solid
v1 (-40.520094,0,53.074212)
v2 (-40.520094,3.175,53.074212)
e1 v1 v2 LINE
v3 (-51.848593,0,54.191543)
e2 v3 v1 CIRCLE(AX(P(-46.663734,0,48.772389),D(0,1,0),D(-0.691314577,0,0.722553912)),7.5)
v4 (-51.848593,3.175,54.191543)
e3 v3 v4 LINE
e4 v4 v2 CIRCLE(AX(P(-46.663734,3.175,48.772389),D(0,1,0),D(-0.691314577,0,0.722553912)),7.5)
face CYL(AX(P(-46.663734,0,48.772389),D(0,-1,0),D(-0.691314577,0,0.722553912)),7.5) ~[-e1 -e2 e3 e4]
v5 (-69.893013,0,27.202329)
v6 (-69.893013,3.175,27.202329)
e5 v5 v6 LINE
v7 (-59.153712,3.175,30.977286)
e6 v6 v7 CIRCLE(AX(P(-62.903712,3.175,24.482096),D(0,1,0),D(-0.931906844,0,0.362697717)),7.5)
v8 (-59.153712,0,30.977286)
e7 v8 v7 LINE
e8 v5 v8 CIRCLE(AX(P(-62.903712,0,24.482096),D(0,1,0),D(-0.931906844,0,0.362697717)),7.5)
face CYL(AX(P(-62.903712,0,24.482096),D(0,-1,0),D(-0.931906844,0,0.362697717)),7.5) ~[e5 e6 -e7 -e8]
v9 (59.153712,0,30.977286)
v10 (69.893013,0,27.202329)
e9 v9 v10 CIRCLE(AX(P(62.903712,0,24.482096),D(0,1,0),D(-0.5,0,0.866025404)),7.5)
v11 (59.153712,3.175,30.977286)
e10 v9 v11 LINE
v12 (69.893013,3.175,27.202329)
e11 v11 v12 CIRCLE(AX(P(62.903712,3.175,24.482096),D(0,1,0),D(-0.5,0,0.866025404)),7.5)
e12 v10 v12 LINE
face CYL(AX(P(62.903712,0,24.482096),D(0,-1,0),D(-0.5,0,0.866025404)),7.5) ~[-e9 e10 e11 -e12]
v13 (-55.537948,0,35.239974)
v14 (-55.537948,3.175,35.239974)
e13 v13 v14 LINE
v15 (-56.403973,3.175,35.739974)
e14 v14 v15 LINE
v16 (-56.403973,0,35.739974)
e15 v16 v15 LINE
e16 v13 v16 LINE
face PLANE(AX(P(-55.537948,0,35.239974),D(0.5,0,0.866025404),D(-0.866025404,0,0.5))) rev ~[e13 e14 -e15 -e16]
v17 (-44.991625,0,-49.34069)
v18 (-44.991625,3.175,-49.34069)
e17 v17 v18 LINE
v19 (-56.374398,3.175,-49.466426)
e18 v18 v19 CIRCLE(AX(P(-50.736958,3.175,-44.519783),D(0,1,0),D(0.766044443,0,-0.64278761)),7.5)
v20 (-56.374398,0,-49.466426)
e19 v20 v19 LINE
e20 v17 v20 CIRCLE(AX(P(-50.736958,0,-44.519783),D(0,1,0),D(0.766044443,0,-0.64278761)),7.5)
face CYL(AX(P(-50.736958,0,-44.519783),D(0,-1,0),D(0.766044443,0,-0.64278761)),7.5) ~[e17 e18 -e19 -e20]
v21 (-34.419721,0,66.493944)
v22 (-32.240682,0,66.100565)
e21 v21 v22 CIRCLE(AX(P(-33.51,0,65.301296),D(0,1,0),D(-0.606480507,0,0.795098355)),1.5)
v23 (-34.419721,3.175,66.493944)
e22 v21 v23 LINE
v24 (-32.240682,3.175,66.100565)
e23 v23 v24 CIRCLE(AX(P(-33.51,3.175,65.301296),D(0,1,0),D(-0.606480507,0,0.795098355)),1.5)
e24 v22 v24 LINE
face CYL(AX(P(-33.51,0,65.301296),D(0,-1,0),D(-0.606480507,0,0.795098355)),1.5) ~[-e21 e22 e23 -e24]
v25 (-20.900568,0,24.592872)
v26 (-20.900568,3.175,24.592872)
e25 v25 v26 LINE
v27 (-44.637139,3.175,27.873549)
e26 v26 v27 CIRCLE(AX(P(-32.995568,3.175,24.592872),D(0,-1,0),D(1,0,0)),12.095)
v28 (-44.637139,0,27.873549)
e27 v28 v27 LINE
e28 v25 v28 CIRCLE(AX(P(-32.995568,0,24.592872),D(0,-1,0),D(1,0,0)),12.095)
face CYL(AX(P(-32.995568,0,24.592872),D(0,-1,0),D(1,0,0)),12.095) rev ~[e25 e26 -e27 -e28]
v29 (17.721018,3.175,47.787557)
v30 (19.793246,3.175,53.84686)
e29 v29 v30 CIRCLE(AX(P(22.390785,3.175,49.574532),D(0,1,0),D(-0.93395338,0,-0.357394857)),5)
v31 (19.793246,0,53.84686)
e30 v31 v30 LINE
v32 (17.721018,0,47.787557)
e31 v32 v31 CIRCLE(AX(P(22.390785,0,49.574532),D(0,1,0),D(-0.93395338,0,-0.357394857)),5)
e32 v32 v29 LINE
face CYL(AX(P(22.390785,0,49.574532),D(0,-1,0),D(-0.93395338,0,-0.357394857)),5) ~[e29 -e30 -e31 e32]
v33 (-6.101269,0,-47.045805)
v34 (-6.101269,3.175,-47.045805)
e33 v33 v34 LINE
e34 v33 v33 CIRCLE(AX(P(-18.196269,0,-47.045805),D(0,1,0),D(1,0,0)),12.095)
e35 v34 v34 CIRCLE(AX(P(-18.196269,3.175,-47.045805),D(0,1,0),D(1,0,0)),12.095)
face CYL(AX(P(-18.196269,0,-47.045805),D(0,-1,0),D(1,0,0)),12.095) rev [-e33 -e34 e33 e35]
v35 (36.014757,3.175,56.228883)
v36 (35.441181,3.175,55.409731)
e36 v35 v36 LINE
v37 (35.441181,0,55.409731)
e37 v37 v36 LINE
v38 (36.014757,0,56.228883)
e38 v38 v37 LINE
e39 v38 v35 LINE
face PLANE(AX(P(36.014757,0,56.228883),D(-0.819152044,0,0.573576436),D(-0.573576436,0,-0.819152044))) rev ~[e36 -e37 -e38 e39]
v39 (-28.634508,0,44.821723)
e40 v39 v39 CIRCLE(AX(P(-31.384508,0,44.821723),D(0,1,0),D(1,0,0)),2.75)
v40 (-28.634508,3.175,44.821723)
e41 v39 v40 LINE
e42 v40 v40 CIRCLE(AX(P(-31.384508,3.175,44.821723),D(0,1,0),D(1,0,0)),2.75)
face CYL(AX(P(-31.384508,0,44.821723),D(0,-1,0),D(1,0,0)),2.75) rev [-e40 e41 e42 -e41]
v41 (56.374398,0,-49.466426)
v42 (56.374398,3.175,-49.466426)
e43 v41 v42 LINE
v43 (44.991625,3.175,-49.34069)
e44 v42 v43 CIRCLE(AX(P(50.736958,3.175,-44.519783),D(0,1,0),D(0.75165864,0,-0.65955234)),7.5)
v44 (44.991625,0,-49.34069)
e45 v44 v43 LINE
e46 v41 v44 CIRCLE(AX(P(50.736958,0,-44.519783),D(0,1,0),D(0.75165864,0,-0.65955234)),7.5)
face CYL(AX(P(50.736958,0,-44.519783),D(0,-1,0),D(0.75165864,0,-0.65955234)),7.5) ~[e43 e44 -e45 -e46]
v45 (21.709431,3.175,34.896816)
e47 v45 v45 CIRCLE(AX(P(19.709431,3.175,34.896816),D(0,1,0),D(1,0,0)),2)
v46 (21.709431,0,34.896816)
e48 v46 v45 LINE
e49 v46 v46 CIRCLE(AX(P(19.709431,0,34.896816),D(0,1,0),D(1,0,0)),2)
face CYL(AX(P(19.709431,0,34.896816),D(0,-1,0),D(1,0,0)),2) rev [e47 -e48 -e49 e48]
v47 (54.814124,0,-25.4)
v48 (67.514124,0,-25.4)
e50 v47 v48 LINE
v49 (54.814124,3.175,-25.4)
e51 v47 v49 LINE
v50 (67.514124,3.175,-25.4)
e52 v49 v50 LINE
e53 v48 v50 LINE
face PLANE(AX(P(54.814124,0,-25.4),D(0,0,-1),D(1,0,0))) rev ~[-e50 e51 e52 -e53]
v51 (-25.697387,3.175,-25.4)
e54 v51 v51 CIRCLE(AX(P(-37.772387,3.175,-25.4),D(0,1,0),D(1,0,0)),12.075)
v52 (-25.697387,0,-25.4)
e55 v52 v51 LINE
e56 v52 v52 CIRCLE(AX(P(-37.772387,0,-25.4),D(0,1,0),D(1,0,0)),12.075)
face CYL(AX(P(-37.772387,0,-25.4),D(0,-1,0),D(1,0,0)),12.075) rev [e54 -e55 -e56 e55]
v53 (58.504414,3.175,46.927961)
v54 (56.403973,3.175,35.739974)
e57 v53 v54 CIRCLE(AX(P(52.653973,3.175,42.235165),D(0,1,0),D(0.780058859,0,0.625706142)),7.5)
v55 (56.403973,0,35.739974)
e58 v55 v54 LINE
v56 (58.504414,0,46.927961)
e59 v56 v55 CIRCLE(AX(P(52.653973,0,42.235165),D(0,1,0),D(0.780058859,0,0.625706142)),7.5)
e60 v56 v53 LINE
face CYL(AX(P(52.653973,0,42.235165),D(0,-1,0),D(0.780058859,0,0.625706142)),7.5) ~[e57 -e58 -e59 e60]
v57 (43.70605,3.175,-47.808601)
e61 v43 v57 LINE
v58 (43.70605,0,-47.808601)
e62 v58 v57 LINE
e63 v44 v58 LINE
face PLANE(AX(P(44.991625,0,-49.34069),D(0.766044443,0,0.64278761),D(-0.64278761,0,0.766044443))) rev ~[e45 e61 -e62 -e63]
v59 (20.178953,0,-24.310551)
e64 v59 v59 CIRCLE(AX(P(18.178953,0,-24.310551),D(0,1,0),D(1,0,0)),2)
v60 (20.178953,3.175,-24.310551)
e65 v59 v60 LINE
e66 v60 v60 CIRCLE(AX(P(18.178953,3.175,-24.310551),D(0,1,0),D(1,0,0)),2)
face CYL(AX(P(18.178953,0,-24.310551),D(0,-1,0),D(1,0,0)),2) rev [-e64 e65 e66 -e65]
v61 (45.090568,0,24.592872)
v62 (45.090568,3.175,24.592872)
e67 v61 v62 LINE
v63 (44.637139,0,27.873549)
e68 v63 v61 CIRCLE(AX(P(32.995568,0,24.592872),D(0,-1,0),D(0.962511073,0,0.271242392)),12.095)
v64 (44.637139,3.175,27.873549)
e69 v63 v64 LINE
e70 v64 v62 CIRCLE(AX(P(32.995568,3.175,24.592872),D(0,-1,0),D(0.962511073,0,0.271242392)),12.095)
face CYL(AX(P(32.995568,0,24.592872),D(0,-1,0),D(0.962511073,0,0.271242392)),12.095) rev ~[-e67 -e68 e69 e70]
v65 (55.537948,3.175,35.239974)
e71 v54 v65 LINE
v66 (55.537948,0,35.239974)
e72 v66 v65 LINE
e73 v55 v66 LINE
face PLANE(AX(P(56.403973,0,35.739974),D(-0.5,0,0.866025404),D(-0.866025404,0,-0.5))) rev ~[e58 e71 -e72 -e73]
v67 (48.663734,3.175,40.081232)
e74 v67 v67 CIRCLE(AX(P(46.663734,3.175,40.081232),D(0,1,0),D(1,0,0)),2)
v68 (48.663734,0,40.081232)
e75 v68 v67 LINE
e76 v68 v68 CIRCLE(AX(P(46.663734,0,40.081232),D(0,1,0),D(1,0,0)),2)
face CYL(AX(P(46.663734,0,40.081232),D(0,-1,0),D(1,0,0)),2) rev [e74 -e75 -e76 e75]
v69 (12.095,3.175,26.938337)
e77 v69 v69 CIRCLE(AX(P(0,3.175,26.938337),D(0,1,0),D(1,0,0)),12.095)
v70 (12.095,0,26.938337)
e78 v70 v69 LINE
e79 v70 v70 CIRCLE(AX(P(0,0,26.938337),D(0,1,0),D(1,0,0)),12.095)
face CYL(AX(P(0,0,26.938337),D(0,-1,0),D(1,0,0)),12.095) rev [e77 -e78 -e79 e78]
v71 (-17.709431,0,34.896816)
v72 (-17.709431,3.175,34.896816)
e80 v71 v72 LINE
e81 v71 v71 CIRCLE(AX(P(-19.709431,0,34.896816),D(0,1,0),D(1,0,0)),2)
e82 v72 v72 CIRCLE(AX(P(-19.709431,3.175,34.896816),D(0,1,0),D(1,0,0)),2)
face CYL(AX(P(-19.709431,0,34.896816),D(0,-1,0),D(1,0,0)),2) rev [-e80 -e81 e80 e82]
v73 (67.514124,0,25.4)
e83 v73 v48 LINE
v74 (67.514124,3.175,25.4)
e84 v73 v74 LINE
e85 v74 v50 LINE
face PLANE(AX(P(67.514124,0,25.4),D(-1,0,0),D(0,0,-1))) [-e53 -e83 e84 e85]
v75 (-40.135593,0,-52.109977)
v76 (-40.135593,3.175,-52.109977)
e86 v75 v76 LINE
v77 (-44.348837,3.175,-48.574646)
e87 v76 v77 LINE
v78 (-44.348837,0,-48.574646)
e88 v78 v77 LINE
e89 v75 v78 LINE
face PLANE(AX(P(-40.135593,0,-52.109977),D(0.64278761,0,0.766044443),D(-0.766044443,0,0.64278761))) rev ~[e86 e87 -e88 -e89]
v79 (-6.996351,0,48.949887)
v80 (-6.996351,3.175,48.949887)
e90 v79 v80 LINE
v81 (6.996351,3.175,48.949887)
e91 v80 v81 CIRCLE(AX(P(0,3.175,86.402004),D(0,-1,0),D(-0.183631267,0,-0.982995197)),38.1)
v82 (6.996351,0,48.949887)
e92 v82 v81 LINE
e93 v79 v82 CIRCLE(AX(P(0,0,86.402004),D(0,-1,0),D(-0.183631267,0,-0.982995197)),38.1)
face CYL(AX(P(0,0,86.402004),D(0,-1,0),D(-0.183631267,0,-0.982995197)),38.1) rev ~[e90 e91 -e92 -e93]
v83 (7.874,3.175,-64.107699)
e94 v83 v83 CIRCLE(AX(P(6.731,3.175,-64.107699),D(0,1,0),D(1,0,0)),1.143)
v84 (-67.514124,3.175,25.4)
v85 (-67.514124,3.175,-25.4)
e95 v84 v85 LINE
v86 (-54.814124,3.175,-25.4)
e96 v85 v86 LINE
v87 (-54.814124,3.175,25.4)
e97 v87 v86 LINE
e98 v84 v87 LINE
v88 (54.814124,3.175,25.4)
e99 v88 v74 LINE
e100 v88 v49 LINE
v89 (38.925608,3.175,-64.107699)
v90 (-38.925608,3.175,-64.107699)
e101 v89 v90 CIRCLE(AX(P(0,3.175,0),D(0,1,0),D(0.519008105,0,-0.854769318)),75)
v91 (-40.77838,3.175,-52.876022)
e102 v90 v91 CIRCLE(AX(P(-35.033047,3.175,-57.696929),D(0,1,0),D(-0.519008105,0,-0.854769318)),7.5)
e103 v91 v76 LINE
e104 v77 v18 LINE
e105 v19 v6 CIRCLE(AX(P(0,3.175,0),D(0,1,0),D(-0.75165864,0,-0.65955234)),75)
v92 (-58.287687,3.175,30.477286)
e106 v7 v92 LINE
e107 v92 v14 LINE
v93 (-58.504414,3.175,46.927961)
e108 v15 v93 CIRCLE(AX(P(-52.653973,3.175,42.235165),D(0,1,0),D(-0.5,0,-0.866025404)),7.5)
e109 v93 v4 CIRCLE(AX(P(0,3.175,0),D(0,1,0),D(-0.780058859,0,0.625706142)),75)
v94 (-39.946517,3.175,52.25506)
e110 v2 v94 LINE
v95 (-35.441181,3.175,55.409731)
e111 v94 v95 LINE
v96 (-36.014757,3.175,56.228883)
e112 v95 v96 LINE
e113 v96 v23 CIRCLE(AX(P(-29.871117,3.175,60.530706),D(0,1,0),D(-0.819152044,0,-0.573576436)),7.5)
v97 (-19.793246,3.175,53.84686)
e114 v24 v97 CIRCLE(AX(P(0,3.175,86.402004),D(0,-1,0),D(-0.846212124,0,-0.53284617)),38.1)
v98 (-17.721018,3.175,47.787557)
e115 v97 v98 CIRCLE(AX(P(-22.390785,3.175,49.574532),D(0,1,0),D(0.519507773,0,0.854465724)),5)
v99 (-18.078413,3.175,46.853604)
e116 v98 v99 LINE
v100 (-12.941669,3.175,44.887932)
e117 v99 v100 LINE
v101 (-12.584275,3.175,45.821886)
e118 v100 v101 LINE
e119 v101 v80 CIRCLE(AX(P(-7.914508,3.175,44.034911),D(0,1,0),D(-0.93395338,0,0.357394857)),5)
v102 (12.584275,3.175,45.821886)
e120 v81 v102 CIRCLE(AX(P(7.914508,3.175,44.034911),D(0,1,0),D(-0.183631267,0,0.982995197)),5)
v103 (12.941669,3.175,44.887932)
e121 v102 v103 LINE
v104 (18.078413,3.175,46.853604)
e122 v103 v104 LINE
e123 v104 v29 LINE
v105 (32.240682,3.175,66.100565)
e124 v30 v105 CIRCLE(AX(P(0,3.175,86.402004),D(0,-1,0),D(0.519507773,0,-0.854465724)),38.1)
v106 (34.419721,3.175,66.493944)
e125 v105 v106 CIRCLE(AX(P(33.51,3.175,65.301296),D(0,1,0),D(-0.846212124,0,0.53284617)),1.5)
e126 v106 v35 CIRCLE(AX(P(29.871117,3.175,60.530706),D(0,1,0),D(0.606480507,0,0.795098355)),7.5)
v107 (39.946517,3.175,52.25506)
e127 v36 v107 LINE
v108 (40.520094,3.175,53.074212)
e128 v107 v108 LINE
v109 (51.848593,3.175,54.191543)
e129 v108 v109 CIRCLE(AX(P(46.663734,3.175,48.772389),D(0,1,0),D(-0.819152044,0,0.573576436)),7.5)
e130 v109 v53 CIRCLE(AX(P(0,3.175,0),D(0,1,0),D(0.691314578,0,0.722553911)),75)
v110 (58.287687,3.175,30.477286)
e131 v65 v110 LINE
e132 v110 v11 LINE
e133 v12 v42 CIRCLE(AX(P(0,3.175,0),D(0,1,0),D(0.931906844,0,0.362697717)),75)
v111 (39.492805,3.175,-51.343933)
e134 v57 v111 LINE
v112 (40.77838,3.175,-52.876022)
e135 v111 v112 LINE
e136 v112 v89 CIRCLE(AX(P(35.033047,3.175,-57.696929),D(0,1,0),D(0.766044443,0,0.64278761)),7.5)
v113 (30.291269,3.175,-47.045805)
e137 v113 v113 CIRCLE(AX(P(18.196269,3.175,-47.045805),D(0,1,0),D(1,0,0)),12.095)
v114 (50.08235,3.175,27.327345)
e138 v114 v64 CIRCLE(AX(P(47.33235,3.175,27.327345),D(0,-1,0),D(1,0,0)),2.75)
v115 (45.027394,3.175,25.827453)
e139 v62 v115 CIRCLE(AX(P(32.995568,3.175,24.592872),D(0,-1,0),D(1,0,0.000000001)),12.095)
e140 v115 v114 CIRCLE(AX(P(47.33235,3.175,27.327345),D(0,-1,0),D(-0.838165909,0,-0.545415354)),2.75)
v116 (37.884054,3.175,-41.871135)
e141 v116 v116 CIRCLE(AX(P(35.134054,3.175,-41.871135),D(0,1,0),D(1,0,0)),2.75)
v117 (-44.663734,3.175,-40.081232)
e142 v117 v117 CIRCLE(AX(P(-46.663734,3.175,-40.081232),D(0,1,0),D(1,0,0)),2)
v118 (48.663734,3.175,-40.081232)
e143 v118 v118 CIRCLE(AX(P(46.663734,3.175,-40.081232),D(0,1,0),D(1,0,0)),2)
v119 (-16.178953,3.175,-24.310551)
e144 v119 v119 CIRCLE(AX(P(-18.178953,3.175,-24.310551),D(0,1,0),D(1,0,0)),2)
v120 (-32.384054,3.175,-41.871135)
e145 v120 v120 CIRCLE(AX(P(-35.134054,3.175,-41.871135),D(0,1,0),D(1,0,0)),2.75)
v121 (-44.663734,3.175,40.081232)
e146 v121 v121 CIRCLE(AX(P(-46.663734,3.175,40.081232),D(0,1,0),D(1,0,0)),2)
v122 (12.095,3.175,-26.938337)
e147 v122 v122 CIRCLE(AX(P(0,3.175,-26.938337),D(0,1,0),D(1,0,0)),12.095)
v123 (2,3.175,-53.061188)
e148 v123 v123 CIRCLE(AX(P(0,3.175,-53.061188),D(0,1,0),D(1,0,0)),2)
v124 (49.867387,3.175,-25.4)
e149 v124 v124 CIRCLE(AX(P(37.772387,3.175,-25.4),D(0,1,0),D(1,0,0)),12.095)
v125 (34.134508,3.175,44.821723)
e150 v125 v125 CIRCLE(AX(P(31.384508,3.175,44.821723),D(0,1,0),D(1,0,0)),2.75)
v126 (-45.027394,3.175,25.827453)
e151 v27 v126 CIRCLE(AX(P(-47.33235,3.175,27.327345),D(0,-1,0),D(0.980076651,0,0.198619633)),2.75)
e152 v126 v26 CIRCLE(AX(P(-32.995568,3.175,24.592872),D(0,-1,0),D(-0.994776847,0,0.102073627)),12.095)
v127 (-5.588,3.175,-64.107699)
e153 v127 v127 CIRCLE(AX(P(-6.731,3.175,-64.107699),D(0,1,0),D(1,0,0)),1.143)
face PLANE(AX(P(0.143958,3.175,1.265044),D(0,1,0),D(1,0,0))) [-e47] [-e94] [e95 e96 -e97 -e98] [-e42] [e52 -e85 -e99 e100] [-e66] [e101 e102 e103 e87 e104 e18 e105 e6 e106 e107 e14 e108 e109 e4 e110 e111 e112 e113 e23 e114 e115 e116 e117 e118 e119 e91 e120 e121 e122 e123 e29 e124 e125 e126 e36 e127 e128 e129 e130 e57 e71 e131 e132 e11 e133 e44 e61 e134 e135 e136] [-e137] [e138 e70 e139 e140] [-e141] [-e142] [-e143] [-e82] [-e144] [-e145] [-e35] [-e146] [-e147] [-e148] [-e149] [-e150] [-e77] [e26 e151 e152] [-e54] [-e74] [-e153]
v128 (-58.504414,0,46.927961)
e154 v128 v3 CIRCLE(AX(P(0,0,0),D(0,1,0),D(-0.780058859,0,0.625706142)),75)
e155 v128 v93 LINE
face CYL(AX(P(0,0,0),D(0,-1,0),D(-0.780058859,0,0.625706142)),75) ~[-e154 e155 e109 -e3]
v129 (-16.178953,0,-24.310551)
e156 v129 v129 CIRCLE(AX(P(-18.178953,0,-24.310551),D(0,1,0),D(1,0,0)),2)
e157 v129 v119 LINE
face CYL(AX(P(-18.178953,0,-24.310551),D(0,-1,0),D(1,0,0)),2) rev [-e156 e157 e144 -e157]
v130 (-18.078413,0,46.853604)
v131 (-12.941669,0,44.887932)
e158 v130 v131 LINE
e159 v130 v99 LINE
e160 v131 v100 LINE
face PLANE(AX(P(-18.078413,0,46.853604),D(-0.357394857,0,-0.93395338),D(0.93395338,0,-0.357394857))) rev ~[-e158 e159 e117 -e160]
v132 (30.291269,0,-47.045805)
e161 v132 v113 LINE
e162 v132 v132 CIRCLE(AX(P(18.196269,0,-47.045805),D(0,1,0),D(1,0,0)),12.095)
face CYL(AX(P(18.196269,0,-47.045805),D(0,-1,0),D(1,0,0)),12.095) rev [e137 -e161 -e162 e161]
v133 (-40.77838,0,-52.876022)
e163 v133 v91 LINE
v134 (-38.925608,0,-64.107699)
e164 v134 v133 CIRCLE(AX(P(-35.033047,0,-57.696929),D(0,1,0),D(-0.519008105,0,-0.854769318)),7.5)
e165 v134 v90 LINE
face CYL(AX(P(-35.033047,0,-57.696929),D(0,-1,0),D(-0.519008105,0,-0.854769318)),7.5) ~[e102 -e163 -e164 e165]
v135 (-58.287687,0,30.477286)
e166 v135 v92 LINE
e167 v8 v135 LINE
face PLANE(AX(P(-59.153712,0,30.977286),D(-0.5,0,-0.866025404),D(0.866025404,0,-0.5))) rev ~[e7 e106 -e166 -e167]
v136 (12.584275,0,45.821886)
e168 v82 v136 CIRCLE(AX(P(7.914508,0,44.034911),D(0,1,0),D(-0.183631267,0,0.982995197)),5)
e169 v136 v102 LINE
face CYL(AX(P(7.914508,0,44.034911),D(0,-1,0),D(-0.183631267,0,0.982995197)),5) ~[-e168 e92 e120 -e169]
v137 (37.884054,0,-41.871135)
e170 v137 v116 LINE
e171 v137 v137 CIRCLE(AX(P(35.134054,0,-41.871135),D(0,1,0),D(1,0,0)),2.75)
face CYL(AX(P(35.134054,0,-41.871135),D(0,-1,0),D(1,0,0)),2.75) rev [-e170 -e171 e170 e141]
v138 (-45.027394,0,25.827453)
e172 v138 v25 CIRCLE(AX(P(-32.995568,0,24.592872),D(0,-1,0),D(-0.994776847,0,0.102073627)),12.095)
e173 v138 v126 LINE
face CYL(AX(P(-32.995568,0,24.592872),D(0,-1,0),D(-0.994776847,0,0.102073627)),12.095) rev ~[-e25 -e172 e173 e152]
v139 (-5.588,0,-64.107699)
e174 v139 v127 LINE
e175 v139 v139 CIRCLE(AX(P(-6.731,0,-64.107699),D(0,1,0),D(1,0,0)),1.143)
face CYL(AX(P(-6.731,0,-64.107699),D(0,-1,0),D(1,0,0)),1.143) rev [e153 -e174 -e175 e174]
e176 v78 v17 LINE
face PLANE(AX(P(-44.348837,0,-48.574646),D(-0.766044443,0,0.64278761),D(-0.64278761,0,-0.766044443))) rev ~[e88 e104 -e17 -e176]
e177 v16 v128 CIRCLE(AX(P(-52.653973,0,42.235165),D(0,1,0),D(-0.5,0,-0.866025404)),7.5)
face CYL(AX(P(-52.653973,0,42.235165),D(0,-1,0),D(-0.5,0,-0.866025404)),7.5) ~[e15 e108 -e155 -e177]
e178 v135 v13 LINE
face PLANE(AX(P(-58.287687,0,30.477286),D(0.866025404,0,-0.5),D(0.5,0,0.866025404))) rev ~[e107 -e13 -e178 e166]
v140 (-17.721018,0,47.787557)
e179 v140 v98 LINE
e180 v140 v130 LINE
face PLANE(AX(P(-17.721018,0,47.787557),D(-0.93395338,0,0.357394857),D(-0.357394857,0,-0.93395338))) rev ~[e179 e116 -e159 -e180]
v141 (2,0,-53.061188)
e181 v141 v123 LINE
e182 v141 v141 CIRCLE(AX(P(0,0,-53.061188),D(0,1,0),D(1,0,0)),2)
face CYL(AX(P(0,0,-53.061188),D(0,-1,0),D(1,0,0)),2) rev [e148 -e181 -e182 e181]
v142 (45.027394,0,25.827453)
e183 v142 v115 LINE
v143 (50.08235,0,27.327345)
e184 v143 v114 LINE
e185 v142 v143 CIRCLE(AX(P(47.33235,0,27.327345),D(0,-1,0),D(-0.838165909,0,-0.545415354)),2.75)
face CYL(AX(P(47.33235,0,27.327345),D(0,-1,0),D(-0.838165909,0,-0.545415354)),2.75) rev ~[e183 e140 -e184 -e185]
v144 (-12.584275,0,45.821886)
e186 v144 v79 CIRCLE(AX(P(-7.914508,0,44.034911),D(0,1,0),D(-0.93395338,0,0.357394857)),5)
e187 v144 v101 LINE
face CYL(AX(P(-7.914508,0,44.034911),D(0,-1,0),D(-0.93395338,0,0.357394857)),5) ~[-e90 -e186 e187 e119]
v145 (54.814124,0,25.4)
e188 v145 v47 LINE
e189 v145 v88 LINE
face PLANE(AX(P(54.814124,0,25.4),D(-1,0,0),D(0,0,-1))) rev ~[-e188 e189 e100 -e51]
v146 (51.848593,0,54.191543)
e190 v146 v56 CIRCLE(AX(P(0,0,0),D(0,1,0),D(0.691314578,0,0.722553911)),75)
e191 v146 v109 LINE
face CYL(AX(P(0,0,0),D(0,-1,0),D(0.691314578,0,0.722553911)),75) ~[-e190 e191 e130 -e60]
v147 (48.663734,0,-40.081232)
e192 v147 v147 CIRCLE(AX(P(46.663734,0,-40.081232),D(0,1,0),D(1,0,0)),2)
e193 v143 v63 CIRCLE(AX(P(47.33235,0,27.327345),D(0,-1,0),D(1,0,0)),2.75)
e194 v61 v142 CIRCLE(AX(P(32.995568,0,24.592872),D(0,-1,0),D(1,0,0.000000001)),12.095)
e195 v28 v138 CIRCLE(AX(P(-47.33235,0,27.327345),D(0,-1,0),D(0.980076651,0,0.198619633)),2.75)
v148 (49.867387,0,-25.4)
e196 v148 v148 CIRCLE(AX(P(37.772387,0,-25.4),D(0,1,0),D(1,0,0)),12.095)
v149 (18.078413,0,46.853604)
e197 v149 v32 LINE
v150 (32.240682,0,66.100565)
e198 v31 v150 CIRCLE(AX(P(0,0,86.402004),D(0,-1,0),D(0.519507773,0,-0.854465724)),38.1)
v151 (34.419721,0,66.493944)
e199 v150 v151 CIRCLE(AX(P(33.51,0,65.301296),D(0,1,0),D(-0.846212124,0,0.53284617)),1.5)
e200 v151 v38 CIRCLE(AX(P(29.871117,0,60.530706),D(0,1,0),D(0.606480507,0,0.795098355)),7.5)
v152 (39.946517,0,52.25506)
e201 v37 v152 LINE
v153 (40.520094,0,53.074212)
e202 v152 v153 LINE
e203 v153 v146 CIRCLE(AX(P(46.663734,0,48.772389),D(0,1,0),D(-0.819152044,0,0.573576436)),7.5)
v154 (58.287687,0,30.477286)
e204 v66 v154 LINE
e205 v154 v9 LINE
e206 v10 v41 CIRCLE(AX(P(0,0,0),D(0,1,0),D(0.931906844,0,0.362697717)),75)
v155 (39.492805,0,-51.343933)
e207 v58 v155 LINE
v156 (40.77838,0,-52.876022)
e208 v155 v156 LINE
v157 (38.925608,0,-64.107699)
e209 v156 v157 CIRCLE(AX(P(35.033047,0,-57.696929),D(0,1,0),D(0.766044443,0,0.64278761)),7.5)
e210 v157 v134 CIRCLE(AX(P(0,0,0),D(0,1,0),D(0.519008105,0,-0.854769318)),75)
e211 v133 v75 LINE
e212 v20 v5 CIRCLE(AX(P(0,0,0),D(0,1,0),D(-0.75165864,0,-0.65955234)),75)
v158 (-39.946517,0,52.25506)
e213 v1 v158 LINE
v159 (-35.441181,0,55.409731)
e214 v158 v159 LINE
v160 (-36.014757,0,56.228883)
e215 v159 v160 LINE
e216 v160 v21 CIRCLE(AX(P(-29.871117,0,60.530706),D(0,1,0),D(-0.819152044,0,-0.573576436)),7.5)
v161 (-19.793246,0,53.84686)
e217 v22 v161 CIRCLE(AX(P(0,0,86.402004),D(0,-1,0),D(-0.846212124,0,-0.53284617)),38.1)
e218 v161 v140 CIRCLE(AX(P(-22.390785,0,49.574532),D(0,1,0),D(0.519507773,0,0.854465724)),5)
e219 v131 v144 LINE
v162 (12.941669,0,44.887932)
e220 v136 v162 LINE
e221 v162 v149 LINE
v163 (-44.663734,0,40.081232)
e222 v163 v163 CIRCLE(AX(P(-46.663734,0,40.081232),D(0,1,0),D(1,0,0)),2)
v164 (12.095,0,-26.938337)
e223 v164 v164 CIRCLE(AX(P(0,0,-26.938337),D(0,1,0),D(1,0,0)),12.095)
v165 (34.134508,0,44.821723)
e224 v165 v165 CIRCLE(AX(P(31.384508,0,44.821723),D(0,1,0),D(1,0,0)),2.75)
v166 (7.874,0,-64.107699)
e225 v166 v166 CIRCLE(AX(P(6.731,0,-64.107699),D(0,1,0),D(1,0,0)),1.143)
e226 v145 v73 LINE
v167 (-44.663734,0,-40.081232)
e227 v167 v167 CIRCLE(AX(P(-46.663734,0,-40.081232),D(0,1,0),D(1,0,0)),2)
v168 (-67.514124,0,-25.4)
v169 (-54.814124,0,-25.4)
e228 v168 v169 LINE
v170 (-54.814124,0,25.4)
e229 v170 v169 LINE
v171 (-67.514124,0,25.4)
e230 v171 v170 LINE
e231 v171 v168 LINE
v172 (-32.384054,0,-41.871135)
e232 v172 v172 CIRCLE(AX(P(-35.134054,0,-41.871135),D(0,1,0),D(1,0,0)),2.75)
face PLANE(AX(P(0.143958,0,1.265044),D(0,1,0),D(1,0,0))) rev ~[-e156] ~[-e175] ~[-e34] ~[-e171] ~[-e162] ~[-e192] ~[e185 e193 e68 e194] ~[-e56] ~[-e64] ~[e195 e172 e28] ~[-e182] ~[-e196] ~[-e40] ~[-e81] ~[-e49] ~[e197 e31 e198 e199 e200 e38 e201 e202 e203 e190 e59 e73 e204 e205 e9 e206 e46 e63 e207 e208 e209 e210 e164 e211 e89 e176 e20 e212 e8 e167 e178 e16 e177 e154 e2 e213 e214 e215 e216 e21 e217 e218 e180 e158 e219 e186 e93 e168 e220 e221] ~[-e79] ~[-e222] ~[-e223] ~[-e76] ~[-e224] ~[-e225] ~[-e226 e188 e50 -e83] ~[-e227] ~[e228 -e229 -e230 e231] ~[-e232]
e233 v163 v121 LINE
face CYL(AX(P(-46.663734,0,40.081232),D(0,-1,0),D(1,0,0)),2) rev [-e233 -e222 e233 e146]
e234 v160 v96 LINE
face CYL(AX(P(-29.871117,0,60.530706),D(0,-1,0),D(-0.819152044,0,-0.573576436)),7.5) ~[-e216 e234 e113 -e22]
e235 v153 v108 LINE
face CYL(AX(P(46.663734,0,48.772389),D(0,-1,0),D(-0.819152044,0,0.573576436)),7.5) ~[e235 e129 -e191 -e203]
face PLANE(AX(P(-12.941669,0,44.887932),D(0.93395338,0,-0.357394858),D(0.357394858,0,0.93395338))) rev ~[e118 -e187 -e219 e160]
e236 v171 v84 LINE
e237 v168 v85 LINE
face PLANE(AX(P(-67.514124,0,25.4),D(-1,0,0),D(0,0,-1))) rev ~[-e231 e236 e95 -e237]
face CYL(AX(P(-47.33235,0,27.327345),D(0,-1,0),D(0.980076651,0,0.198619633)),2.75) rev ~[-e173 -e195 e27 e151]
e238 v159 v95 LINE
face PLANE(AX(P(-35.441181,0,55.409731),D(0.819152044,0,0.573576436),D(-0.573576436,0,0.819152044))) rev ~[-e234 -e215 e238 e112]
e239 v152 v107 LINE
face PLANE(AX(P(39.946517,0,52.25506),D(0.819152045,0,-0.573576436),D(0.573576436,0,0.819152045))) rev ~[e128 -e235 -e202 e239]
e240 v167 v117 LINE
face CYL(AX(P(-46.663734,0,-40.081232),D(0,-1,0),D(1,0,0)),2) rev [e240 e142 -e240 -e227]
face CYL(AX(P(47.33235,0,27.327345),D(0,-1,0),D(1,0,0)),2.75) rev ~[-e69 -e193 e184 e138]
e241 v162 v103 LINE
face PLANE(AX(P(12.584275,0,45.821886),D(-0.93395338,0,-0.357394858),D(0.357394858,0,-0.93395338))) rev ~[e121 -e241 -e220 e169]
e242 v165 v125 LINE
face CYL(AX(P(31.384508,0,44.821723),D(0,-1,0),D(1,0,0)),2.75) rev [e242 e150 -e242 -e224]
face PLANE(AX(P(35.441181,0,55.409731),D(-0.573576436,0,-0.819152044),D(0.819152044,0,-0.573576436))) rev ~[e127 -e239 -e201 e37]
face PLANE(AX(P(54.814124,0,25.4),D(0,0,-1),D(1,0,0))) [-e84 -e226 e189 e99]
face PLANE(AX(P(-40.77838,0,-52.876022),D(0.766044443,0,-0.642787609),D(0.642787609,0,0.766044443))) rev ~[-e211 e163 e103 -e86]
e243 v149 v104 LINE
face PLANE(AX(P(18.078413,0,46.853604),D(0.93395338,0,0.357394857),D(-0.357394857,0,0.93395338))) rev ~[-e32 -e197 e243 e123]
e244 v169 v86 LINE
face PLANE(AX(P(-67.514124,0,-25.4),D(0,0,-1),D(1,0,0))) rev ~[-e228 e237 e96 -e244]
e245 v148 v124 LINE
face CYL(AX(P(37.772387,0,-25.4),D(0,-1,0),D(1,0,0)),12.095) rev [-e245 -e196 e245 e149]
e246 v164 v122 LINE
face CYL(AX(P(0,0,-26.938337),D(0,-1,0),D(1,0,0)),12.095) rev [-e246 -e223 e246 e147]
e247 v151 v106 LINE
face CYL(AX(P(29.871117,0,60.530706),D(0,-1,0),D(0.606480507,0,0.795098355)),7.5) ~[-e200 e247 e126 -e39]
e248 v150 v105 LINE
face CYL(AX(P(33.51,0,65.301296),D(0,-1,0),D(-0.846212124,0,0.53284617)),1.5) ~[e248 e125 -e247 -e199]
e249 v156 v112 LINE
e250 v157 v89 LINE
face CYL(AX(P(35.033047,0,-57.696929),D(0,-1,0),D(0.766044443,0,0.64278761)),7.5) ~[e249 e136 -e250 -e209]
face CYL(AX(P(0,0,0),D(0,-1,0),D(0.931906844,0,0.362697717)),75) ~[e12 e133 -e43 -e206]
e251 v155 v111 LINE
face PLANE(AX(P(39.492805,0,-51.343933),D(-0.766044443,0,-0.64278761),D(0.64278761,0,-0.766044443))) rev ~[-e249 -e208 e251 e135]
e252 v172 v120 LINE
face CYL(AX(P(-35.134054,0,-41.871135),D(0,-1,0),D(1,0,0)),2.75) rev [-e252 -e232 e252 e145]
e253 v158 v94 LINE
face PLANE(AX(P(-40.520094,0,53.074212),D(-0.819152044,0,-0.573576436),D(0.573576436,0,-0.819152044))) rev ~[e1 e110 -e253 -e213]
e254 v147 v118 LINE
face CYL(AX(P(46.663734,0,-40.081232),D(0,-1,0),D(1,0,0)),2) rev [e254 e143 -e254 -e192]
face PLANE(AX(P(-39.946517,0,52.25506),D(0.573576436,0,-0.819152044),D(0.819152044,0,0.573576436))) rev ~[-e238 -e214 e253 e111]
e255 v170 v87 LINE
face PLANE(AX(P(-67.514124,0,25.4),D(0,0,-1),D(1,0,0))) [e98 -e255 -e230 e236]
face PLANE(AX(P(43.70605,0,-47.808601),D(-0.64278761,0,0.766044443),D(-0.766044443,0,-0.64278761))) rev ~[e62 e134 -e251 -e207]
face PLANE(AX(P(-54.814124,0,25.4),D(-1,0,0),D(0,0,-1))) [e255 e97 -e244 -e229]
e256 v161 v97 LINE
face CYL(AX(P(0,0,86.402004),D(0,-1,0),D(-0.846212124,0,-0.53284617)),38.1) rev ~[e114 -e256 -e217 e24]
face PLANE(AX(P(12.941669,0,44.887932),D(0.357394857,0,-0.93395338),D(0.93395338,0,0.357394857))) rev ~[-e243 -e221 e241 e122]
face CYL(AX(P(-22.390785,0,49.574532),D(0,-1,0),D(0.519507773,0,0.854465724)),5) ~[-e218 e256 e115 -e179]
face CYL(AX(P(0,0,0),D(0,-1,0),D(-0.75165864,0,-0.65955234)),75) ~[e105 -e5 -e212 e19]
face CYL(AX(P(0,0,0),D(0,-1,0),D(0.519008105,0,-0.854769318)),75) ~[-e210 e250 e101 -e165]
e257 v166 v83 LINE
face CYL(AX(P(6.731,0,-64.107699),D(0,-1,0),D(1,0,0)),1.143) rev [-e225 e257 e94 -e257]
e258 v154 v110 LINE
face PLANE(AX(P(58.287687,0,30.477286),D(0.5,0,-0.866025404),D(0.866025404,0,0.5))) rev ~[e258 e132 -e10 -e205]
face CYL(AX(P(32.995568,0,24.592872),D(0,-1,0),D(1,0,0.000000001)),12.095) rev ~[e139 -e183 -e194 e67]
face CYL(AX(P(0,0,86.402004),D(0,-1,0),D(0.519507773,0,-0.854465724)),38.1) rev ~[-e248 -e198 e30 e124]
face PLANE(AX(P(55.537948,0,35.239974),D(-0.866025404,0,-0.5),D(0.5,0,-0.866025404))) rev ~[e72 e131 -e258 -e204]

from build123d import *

# Parameters (mm, degrees)
SKETCH1_R           = 2
SKETCH1_R_2         = 2.75
SKETCH1_W           = 12.7
SKETCH1_H           = 50.8
SKETCH1_R_3         = 12.095
SKETCH1_R_4         = 12.075
SKETCH1_R_5         = 1.143
BOSS_EXTRUDE1_DEPTH = 3.175


with BuildPart() as part:
    # Sketch1 → Boss-Extrude1 (new body)
    with BuildSketch(Plane(origin=(0, 0, 0), x_dir=(1, 0, 0), z_dir=(0, 1, 0))):
        with BuildLine():
            Line((-35.441180971, -55.409730648), (-36.014757408, -56.228882693))
            ThreePointArc((-36.014757408, -56.228882693), (-37.282182463, -61.682274385), (-34.419720881, -66.493943628))
            ThreePointArc((-34.419720881, -66.493943628), (-33.243515234, -66.777434912), (-32.240681933, -66.10056535))
            ThreePointArc((-32.240681933, -66.10056535), (-26.728650164, -59.250774979), (-19.793246149, -53.846860332))
            ThreePointArc((-19.793246149, -53.846860332), (-17.659799789, -51.192486841), (-17.721018114, -47.787557426))
            Line((-17.721018114, -47.787557426), (-18.078412971, -46.853604046))
            Line((-18.078412971, -46.853604046), (-12.941669381, -44.887932332))
            Line((-12.941669381, -44.887932332), (-12.584274523, -45.821885712))
            ThreePointArc((-12.584274523, -45.821885712), (-10.356790186, -48.397852623), (-6.996351286, -48.949887413))
            ThreePointArc((-6.996351286, -48.949887413), (0, -48.302004425), (6.996351286, -48.949887413))
            ThreePointArc((6.996351286, -48.949887413), (10.356790186, -48.397852623), (12.584274523, -45.821885712))
            Line((12.584274523, -45.821885712), (12.941669381, -44.887932332))
            Line((12.941669381, -44.887932332), (18.078412971, -46.853604046))
            Line((18.078412971, -46.853604046), (17.721018114, -47.787557426))
            ThreePointArc((17.721018114, -47.787557426), (17.659799789, -51.192486841), (19.793246149, -53.846860332))
            ThreePointArc((19.793246149, -53.846860332), (26.728650164, -59.250774979), (32.240681933, -66.10056535))
            ThreePointArc((32.240681933, -66.10056535), (33.243515234, -66.777434912), (34.419720881, -66.493943628))
            ThreePointArc((34.419720881, -66.493943628), (37.282182463, -61.682274385), (36.014757408, -56.228882693))
            Line((36.014757408, -56.228882693), (35.441180971, -55.409730648))
            Line((35.441180971, -55.409730648), (39.946517215, -52.255060248))
            Line((39.946517215, -52.255060248), (40.520093651, -53.074212293))
            ThreePointArc((40.520093651, -53.074212293), (45.927580176, -56.23617342), (51.848593315, -54.191543356))
            ThreePointArc((51.848593315, -54.191543356), (55.295899374, -50.669157408), (58.504414423, -46.927960674))
            ThreePointArc((58.504414423, -46.927960674), (60.025192689, -40.851285995), (56.403972981, -35.739974078))
            Line((56.403972981, -35.739974078), (55.537947577, -35.239974078))
            Line((55.537947577, -35.239974078), (58.287686569, -30.477286437))
            Line((58.287686569, -30.477286437), (59.153711973, -30.977286437))
            ThreePointArc((59.153711973, -30.977286437), (65.390847794, -31.557698738), (69.893013303, -27.202328787))
            ThreePointArc((69.893013303, -27.202328787), (73.860606951, 13.023468848), (56.374397975, 49.466425512))
            ThreePointArc((56.374397975, 49.466425512), (50.654117331, 52.01932544), (44.991624855, 49.340690033))
            Line((44.991624855, 49.340690033), (43.706049635, 47.808601147))
            Line((43.706049635, 47.808601147), (39.492805198, 51.343933))
            Line((39.492805198, 51.343933), (40.778380417, 52.876021886))
            ThreePointArc((40.778380417, 52.876021886), (42.433039833, 58.917628536), (38.925607882, 64.107698843))
            ThreePointArc((38.925607882, 64.107698843), (0, 75), (-38.925607882, 64.107698843))
            ThreePointArc((-38.925607882, 64.107698843), (-42.433039833, 58.917628536), (-40.778380417, 52.876021886))
            Line((-40.778380417, 52.876021886), (-40.135592808, 52.109977443))
            Line((-40.135592808, 52.109977443), (-44.348837245, 48.57464559))
            Line((-44.348837245, 48.57464559), (-44.991624855, 49.340690033))
            ThreePointArc((-44.991624855, 49.340690033), (-50.654117331, 52.01932544), (-56.374397975, 49.466425512))
            ThreePointArc((-56.374397975, 49.466425512), (-73.860606951, 13.023468848), (-69.893013303, -27.202328787))
            ThreePointArc((-69.893013303, -27.202328787), (-65.390847794, -31.557698738), (-59.153711973, -30.977286437))
            Line((-59.153711973, -30.977286437), (-58.287686569, -30.477286437))
            Line((-58.287686569, -30.477286437), (-55.537947577, -35.239974078))
            Line((-55.537947577, -35.239974078), (-56.403972981, -35.739974078))
            ThreePointArc((-56.403972981, -35.739974078), (-60.025192689, -40.851285995), (-58.504414423, -46.927960674))
            ThreePointArc((-58.504414423, -46.927960674), (-55.295899374, -50.669157408), (-51.848593315, -54.191543356))
            ThreePointArc((-51.848593315, -54.191543356), (-45.927580176, -56.23617342), (-40.520093651, -53.074212293))
            Line((-40.520093651, -53.074212293), (-39.946517215, -52.255060249))
            Line((-39.946517215, -52.255060249), (-35.441180971, -55.409730648))
        make_face()
        with Locations((-46.663733983, -40.081231883)):
            Circle(SKETCH1_R, mode=Mode.SUBTRACT)
        with Locations((-31.384508293, -44.821722961)):
            Circle(SKETCH1_R_2, mode=Mode.SUBTRACT)
        with Locations((-19.709430746, -34.896815973)):
            Circle(SKETCH1_R, mode=Mode.SUBTRACT)
        with Locations((-61.164123727, 0)):
            Rectangle(SKETCH1_W, SKETCH1_H, mode=Mode.SUBTRACT)
        with BuildLine():
            ThreePointArc((-45.027393846, -25.827452847), (-33.613665776, -12.513676165), (-20.900567885, -24.59287233))
            ThreePointArc((-20.900567885, -24.59287233), (-31.339636328, -36.573978943), (-44.637139307, -27.873549061))
            ThreePointArc((-44.637139307, -27.873549061), (-50.033654419, -27.842568285), (-45.027393846, -25.827452847))
        make_face(mode=Mode.SUBTRACT)
        with Locations((31.384508293, -44.821722961)):
            Circle(SKETCH1_R_2, mode=Mode.SUBTRACT)
        with Locations((19.709430746, -34.896815973)):
            Circle(SKETCH1_R, mode=Mode.SUBTRACT)
        with Locations((46.663733983, -40.081231883)):
            Circle(SKETCH1_R, mode=Mode.SUBTRACT)
        with Locations((0, -26.93833729)):
            Circle(SKETCH1_R_3, mode=Mode.SUBTRACT)
        with BuildLine():
            ThreePointArc((44.637139307, -27.873549061), (21.014461272, -22.936940773), (45.090567885, -24.59287233))
            ThreePointArc((45.090567885, -24.59287233), (45.07476405, -25.210970221), (45.027393846, -25.827452847))
            ThreePointArc((45.027393846, -25.827452847), (48.114612939, -24.690952678), (50.082350097, -27.32734507))
            ThreePointArc((50.082350097, -27.32734507), (47.606822617, -30.063613484), (44.637139307, -27.873549061))
        make_face(mode=Mode.SUBTRACT)
        with Locations((61.164123727, 0)):
            Rectangle(SKETCH1_W, SKETCH1_H, mode=Mode.SUBTRACT)
        with Locations((-37.772386795, 25.4)):
            Circle(SKETCH1_R_4, mode=Mode.SUBTRACT)
        with Locations((-18.178952795, 24.310551096)):
            Circle(SKETCH1_R, mode=Mode.SUBTRACT)
        with Locations((-46.663733983, 40.081231883)):
            Circle(SKETCH1_R, mode=Mode.SUBTRACT)
        with Locations((-35.134053633, 41.871134639)):
            Circle(SKETCH1_R_2, mode=Mode.SUBTRACT)
        with Locations((-18.1962694, 47.04580506)):
            Circle(SKETCH1_R_3, mode=Mode.SUBTRACT)
        with Locations((-6.731, 64.107698843)):
            Circle(SKETCH1_R_5, mode=Mode.SUBTRACT)
        with Locations((0, 26.93833729)):
            Circle(SKETCH1_R_3, mode=Mode.SUBTRACT)
        with Locations((18.178952795, 24.310551096)):
            Circle(SKETCH1_R, mode=Mode.SUBTRACT)
        with Locations((37.772386795, 25.4)):
            Circle(SKETCH1_R_3, mode=Mode.SUBTRACT)
        with Locations((18.1962694, 47.04580506)):
            Circle(SKETCH1_R_3, mode=Mode.SUBTRACT)
        with Locations((0, 53.061187965)):
            Circle(SKETCH1_R, mode=Mode.SUBTRACT)
        with Locations((35.134053633, 41.871134639)):
            Circle(SKETCH1_R_2, mode=Mode.SUBTRACT)
        with Locations((6.731, 64.107698843)):
            Circle(SKETCH1_R_5, mode=Mode.SUBTRACT)
        with Locations((46.663733983, 40.081231883)):
            Circle(SKETCH1_R, mode=Mode.SUBTRACT)
    extrude(amount=BOSS_EXTRUDE1_DEPTH)


solid = part.part
